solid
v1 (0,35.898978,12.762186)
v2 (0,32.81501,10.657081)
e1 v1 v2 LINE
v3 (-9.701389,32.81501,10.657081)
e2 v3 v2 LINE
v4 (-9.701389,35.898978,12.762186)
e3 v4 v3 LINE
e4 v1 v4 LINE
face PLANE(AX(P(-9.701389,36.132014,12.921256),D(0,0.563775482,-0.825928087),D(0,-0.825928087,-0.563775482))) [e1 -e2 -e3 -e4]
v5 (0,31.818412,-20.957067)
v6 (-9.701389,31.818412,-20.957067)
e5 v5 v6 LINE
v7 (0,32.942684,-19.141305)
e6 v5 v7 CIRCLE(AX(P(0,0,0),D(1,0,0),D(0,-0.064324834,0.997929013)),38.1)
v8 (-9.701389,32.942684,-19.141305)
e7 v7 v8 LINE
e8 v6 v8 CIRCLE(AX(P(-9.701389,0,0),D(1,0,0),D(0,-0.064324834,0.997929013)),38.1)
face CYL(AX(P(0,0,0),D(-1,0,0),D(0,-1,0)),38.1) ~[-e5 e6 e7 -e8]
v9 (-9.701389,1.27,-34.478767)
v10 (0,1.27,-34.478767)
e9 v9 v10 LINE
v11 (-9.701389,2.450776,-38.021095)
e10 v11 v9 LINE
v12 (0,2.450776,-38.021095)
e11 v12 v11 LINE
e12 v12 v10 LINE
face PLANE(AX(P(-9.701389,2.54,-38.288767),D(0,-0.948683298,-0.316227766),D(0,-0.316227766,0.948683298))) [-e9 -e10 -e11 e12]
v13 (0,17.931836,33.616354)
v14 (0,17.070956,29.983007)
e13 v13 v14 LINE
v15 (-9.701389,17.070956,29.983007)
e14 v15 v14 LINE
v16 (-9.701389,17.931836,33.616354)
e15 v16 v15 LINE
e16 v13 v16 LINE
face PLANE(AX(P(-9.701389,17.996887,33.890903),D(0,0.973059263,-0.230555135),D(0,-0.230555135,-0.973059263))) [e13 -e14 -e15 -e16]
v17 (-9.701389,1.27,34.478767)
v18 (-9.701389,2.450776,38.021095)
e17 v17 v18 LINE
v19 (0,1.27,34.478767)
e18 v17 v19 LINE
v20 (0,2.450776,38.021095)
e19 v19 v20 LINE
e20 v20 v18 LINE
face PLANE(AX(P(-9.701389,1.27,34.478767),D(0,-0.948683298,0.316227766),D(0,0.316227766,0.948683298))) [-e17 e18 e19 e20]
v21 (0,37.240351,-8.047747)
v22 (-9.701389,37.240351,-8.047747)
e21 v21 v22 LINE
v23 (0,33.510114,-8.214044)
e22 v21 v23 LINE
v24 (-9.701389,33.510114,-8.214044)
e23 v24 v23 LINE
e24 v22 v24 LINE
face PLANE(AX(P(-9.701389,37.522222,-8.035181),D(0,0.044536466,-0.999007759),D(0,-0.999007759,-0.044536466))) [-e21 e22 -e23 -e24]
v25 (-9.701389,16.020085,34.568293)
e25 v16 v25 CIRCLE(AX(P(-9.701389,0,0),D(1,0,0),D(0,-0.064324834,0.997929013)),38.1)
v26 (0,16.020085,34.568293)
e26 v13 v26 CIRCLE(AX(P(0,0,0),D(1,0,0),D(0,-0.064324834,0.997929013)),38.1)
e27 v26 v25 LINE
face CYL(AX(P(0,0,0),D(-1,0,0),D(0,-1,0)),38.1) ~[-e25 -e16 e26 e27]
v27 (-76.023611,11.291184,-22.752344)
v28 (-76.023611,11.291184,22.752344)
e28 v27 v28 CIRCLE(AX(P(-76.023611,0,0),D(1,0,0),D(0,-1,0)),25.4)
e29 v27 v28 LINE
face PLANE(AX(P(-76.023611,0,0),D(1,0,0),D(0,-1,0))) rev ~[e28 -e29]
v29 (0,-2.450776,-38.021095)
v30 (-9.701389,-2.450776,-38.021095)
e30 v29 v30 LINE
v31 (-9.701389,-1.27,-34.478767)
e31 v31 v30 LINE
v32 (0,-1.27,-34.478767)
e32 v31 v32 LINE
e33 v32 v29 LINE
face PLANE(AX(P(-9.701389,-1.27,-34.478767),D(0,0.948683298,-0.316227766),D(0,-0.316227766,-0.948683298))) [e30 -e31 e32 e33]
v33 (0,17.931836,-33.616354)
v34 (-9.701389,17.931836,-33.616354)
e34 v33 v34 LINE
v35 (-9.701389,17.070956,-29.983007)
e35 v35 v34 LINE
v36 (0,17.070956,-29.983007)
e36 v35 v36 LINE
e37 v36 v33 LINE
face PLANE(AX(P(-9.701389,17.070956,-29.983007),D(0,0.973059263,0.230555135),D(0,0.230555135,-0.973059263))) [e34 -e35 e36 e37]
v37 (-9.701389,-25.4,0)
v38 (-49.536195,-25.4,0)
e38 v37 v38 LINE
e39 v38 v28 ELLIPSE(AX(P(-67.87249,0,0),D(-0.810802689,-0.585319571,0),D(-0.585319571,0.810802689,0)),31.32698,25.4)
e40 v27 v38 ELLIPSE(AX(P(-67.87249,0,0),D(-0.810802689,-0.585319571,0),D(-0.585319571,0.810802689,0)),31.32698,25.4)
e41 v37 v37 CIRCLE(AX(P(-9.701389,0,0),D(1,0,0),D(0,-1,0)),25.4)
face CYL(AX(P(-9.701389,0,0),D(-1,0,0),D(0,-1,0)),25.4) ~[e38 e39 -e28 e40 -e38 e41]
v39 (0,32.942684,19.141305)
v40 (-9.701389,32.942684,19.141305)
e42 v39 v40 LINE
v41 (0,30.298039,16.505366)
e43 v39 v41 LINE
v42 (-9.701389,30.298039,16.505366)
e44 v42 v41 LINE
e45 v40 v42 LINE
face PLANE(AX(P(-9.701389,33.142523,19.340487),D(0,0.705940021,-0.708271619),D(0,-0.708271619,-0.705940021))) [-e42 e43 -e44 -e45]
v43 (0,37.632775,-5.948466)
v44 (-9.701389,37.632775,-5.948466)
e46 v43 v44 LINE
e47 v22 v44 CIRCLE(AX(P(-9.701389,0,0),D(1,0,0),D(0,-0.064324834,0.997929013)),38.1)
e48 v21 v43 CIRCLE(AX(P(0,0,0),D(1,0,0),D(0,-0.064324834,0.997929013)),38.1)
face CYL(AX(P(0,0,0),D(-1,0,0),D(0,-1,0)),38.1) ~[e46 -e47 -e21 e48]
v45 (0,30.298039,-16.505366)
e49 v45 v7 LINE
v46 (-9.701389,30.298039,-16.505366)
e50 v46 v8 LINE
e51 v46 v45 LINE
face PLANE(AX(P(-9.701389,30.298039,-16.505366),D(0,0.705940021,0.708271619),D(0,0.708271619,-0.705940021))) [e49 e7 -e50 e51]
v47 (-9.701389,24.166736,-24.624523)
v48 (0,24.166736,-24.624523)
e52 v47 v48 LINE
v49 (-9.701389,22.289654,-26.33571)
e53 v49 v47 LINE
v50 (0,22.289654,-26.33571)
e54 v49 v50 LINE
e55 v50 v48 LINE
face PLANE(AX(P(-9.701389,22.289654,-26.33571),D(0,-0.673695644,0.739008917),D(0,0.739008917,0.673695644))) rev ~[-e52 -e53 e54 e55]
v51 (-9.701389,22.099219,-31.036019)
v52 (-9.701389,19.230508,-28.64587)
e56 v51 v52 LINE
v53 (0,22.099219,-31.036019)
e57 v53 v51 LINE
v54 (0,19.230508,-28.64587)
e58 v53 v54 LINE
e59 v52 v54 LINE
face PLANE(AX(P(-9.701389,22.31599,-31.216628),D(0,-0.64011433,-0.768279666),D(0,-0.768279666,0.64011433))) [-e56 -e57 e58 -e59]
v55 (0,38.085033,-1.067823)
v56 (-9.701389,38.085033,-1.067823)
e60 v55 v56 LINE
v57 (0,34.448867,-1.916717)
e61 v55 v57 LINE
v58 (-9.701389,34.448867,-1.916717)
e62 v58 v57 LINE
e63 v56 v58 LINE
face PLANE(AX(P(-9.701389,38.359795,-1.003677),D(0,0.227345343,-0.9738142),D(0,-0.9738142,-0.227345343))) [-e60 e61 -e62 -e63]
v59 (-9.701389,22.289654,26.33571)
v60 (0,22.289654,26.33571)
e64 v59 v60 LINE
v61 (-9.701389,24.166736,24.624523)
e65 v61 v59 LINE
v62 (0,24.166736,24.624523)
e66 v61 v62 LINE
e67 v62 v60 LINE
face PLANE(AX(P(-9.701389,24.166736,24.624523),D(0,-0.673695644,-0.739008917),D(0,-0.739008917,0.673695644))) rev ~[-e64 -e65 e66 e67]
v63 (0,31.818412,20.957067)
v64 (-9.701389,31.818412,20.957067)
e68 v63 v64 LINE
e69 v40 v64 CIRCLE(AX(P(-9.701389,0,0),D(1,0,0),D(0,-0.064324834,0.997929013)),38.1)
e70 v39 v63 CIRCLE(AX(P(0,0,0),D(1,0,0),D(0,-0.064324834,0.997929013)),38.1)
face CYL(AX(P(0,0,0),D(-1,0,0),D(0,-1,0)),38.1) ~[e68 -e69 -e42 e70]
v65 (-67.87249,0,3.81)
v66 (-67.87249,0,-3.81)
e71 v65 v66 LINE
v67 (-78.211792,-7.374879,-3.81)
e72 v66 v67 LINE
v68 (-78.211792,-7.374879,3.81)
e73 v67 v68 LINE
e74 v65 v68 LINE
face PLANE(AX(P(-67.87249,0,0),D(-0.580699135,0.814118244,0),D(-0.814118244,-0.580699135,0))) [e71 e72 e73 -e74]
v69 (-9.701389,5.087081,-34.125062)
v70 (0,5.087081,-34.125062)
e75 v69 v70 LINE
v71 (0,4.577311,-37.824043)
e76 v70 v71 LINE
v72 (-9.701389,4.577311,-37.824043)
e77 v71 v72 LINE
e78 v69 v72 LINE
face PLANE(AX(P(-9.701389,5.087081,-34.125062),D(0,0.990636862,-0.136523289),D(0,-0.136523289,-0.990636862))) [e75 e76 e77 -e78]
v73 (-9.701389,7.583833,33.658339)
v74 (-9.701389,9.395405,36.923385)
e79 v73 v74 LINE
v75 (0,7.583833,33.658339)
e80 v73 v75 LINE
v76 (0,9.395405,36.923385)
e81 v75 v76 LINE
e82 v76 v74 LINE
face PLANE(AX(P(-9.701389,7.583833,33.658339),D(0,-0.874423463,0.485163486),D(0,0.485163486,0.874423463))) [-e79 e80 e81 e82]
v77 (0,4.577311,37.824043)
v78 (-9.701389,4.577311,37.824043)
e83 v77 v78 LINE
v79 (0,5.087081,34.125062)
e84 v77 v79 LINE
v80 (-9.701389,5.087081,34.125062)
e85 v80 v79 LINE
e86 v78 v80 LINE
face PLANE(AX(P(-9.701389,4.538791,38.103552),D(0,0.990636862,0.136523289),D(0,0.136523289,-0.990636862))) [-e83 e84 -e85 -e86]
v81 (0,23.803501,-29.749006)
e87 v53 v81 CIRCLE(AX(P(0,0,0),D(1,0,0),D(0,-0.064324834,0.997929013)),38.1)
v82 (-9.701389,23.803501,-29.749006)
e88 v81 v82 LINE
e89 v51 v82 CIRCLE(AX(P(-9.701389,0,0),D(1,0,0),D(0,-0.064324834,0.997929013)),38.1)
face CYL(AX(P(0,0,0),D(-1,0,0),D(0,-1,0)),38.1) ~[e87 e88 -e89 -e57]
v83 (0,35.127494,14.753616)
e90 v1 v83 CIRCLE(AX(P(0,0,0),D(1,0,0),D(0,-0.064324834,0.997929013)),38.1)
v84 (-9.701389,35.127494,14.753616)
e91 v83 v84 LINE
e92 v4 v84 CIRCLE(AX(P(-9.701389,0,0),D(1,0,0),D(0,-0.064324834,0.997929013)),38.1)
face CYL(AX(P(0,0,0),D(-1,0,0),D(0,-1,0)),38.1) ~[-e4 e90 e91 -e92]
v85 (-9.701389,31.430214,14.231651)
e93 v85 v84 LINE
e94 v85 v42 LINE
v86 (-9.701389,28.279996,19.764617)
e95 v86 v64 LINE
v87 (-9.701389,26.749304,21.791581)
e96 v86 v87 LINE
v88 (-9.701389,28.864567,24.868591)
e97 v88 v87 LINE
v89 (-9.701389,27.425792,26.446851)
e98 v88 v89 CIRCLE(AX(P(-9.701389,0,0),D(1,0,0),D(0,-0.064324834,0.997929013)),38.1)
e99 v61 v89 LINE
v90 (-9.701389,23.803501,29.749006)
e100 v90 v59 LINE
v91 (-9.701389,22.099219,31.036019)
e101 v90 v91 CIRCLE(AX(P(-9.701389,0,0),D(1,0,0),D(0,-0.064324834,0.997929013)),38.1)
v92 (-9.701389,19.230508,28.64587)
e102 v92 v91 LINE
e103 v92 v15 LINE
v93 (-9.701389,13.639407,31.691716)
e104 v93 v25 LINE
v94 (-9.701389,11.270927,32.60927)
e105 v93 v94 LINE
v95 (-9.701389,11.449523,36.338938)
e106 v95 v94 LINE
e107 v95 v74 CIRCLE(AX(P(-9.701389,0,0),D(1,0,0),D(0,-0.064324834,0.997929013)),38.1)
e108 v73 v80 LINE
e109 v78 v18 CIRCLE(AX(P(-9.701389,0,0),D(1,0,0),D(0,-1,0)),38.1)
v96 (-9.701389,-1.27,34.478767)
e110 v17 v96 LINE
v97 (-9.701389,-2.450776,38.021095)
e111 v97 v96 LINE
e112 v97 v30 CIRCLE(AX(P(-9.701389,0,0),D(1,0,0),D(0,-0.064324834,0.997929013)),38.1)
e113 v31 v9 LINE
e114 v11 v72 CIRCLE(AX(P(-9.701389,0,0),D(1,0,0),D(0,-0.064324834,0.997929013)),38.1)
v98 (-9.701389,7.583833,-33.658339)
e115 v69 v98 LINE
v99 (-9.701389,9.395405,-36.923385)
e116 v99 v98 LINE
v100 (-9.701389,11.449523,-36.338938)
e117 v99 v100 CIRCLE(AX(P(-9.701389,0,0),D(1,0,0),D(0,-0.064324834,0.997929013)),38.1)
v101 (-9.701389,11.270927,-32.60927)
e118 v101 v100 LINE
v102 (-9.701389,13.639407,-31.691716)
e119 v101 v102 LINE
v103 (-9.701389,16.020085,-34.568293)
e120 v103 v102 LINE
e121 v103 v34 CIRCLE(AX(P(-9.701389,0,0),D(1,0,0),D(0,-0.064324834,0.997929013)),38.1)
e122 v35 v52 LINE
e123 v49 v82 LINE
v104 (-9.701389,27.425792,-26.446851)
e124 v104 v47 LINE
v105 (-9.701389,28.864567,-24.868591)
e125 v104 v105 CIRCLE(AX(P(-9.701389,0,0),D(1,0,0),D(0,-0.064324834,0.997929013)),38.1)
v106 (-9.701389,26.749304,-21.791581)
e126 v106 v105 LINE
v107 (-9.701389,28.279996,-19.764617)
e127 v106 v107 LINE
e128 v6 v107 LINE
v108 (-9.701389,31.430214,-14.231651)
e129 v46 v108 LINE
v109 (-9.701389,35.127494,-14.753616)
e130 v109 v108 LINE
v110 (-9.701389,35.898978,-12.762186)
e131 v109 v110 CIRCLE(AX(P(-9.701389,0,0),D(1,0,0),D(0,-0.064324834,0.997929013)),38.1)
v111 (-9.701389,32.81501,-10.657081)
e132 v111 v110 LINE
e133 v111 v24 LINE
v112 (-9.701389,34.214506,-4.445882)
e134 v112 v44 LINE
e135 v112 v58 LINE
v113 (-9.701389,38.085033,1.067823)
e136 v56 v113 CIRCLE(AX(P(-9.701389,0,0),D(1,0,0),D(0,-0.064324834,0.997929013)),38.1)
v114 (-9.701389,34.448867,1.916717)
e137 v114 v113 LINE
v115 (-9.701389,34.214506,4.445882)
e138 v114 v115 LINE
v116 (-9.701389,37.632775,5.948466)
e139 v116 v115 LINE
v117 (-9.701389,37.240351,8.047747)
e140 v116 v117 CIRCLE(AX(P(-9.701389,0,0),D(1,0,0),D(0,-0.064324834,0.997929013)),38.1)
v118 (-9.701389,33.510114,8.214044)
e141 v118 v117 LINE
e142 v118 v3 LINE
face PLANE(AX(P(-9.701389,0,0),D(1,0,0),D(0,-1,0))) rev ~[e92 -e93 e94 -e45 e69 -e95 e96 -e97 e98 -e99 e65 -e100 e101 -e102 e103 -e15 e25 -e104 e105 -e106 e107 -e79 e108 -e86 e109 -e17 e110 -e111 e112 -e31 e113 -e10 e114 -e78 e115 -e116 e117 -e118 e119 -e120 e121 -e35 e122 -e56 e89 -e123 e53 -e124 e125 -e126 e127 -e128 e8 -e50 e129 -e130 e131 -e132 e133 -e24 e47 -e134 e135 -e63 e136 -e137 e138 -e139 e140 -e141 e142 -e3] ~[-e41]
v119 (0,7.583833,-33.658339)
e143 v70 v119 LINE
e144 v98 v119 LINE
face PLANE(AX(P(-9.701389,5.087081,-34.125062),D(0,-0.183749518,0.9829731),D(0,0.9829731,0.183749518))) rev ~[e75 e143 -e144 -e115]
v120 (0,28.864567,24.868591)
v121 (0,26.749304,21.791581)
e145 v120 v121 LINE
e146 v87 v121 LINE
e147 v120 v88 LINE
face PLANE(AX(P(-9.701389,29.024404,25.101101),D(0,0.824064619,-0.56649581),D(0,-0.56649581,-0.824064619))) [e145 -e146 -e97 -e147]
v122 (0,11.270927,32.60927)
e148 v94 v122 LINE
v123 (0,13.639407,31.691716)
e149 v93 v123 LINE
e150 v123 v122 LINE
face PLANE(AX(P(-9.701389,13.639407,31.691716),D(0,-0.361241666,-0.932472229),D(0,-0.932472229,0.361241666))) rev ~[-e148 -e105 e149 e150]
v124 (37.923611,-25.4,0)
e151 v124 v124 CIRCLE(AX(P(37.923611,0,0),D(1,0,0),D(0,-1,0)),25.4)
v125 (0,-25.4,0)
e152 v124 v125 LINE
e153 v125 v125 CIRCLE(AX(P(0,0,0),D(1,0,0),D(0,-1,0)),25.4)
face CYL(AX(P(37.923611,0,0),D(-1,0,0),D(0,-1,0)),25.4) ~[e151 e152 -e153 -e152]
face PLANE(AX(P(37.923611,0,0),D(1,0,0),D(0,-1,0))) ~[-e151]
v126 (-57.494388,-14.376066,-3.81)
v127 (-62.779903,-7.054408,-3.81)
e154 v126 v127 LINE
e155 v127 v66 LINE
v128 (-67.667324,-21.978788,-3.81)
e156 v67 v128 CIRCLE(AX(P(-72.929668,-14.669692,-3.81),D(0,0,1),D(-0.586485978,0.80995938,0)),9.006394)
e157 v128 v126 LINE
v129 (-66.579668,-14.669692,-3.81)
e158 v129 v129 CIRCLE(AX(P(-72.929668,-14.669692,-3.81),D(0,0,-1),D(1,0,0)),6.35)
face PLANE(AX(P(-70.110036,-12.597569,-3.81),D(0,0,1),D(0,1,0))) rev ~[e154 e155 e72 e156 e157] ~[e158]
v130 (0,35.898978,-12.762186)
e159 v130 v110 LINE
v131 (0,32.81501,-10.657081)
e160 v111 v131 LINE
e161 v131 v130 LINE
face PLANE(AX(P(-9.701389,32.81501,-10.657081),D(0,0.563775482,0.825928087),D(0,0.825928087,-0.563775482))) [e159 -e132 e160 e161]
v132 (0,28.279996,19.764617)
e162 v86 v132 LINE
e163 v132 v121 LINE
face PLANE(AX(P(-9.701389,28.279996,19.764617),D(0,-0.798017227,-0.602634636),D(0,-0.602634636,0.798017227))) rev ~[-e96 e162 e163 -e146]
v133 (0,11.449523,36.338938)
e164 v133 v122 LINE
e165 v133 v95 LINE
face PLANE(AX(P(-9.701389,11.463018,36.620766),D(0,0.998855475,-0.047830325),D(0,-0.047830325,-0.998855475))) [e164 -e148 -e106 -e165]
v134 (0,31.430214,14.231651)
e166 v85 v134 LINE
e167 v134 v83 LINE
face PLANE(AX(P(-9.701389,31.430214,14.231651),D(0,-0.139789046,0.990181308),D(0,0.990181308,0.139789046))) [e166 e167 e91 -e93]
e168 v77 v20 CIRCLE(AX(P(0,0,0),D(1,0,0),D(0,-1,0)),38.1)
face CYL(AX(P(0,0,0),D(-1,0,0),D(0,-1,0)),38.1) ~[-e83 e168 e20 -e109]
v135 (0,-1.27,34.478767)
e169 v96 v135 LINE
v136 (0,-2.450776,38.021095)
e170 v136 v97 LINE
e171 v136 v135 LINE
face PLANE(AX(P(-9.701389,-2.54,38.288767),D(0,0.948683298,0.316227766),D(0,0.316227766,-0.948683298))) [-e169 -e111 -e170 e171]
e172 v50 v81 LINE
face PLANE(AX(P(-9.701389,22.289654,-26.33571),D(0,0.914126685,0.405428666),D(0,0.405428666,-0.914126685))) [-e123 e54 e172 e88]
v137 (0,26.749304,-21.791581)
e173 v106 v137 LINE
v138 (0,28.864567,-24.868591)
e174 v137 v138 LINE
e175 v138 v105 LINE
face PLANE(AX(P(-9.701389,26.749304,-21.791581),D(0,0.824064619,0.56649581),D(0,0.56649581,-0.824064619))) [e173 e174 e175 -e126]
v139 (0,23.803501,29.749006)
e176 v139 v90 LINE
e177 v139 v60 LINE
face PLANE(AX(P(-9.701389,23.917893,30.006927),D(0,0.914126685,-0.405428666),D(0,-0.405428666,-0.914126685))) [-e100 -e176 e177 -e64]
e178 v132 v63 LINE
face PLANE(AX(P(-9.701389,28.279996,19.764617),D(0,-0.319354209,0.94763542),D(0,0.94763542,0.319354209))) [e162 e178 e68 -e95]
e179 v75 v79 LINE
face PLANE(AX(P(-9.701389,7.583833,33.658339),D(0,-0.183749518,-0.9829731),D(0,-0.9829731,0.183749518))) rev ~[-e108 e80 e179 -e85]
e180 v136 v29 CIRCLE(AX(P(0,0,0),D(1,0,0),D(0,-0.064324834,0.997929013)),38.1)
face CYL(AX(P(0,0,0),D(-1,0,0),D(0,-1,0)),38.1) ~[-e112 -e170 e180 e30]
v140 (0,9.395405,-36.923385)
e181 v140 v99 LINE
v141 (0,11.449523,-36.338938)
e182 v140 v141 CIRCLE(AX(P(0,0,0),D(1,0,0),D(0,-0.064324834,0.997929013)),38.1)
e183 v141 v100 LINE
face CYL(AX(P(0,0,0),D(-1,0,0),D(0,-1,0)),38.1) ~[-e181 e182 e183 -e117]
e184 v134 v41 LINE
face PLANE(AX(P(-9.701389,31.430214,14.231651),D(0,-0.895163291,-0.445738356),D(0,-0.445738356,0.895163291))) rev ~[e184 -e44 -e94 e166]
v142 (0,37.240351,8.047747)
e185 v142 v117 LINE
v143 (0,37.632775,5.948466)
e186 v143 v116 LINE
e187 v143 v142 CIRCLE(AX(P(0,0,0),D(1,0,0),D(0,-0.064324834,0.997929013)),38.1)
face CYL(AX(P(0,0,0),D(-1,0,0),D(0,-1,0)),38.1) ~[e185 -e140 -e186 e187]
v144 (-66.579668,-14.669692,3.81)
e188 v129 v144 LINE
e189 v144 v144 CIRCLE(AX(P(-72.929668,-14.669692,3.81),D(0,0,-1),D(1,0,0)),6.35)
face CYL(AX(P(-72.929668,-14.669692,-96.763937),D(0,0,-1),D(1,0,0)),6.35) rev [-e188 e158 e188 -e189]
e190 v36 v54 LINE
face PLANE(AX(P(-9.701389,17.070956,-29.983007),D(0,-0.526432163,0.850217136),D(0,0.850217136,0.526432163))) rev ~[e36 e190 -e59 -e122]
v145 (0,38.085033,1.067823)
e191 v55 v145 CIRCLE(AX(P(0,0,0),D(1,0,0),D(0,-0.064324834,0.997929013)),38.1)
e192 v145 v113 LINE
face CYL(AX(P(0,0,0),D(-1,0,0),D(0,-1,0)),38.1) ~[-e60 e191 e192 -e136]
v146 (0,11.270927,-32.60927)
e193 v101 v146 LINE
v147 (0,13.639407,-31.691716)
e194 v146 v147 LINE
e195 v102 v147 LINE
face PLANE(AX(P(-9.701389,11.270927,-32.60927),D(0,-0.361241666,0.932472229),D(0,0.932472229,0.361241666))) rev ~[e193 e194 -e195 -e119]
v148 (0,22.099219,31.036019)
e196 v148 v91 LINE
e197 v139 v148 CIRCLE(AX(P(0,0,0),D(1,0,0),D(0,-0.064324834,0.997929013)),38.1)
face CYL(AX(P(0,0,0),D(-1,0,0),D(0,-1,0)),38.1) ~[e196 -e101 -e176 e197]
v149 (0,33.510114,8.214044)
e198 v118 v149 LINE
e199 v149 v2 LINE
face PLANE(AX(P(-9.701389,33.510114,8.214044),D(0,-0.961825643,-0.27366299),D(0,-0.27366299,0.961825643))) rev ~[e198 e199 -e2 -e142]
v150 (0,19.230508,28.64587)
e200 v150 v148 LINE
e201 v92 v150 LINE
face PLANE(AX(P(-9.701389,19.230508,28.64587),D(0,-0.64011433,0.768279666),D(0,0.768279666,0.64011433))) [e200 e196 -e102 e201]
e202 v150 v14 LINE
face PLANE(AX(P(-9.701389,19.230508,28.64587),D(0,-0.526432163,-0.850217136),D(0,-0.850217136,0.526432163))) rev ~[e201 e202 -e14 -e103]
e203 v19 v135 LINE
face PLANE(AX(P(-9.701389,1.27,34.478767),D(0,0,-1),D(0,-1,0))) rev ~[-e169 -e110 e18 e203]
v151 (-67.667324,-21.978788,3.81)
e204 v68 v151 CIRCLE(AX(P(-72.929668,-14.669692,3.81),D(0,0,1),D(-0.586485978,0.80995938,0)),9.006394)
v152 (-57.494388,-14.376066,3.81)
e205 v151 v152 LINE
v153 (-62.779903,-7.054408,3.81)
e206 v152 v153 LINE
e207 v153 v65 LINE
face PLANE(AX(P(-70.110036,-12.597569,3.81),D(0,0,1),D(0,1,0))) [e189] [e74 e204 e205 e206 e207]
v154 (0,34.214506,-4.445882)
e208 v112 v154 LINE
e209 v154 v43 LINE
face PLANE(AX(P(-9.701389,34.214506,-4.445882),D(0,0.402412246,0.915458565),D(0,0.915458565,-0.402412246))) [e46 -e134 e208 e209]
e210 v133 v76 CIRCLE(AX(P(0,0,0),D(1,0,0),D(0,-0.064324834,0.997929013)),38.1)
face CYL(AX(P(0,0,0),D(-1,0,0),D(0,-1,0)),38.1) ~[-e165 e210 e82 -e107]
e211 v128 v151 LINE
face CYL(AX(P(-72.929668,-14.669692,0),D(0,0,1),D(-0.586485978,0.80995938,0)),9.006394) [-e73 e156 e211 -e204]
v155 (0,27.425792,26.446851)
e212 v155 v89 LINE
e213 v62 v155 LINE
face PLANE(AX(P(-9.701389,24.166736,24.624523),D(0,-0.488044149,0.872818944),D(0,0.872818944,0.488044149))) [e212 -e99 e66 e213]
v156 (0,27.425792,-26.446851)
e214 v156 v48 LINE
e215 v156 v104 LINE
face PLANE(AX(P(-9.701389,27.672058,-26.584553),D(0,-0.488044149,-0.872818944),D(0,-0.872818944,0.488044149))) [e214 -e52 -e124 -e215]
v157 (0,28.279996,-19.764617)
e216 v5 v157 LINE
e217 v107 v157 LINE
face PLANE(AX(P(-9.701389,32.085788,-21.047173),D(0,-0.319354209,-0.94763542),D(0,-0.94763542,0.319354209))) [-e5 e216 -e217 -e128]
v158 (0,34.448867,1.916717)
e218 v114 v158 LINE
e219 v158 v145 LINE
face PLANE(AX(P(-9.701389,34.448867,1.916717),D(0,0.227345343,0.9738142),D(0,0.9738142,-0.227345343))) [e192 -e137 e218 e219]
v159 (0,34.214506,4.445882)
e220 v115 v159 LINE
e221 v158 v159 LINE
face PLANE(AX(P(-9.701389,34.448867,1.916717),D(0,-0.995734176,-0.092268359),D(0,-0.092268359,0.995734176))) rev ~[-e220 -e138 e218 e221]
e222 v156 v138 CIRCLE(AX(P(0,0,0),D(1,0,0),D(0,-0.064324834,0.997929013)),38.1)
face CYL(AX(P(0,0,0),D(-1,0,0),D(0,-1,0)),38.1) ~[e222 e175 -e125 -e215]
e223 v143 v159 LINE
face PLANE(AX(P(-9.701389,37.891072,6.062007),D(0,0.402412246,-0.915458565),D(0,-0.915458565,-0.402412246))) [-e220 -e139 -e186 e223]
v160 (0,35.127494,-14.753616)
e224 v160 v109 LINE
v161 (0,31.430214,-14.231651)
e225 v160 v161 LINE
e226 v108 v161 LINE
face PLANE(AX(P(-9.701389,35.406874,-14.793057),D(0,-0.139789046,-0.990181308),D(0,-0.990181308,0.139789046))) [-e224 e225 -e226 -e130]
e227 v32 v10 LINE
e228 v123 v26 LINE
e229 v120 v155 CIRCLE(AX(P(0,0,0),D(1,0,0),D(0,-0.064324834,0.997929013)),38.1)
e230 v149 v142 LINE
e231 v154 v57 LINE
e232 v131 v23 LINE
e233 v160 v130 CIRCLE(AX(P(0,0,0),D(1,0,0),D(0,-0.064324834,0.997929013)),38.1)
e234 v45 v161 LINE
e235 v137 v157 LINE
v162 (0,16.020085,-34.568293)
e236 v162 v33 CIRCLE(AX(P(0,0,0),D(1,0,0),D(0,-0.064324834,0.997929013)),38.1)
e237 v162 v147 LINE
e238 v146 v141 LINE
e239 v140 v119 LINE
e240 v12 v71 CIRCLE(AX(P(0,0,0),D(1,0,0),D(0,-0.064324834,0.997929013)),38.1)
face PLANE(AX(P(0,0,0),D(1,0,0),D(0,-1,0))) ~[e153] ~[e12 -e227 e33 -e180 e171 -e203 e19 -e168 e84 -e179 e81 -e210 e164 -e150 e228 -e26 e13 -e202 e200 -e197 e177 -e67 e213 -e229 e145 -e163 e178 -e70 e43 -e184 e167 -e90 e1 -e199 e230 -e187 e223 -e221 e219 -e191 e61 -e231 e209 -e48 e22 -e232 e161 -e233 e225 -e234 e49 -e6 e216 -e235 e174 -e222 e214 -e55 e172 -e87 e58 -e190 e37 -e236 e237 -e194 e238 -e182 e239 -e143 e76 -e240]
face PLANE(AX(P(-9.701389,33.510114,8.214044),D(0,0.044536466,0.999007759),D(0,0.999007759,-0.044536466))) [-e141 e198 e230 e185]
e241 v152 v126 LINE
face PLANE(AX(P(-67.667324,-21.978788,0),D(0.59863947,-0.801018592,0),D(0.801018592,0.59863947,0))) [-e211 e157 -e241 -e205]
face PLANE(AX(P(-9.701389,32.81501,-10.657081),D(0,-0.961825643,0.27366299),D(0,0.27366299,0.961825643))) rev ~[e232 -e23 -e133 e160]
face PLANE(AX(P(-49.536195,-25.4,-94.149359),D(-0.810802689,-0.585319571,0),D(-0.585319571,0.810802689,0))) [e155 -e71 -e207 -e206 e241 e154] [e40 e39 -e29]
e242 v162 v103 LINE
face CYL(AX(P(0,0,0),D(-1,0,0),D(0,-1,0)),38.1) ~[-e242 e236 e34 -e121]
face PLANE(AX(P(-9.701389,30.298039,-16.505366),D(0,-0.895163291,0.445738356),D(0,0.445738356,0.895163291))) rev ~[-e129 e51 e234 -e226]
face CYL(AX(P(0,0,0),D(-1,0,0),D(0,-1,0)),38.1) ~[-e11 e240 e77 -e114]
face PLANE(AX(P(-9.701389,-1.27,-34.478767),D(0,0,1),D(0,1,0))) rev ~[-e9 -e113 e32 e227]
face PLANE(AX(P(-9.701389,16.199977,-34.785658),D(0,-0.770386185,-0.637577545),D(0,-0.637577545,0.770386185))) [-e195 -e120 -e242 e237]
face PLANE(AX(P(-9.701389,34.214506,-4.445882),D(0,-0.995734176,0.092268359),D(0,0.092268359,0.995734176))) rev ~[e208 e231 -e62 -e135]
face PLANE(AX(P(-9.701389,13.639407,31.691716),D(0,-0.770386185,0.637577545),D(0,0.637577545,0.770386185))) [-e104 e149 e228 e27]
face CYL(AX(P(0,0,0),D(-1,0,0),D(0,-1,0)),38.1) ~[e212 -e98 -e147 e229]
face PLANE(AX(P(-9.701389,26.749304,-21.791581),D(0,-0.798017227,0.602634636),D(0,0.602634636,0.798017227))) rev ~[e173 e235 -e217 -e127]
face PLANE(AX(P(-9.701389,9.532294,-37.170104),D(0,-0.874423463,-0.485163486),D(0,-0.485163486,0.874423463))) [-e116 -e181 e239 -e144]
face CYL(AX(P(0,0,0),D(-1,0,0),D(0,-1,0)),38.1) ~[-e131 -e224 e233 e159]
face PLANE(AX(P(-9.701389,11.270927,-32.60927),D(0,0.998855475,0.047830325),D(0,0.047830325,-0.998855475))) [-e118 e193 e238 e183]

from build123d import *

# Parameters (mm, degrees)
CUT_EXTRUDE1_DEPTH      = 86.450904972
CIRPATTERN1_COUNT       = 18
CIRPATTERN1_ANGLE       = 180
CUT_EXTRUDE2_DEPTH      = 94.149359325
CUT_EXTRUDE2_DEPTH_BACK = 94.149359325
BOSS_EXTRUDE1_DEPTH     = 3.81
CUT_EXTRUDE4_DEPTH      = 100.573936521
CUT_EXTRUDE4_DEPTH_BACK = 100.573936521
SKETCH9_R               = 6.35


with BuildPart() as part:
    # Sketch2 → Revolve1 (revolve)
    with BuildSketch(Plane(origin=(0, 0, 0), x_dir=(0, 1, 0), z_dir=(0, 0, 1))):
        Polygon((0, -37.923611111), (-25.4, -37.923611111), (-25.4, 0), (-38.1, 0), (-38.1, 9.701388889), (-25.4, 9.701388889), (-25.4, 76.023611111), (0, 76.023611111), align=None)
    revolve(axis=Axis((-76.023611111, 0, 0), (1, 0, 0)))

    # Sketch3 → Cut-Extrude1 (cut, through all)
    with BuildSketch(Plane(origin=(-9.701388889, 0, 0), x_dir=(0, -1, 0), z_dir=(-1, 0, 0))):
        Polygon((0, 38.288766927), (2.54, 38.288766927), (1.27, 34.478766927), (0, 34.478766927), (-1.27, 34.478766927), (-2.54, 38.288766927), align=None)
    cut_extrude1 = extrude(amount=-CUT_EXTRUDE1_DEPTH, mode=Mode.SUBTRACT)

    # CirPattern1: Cut-Extrude1 ×18 about axis
    cirpattern1_axis = Axis((0, 0, 0), (-1, 0, 0))
    for i in range(1, CIRPATTERN1_COUNT):
        add(cut_extrude1.rotate(cirpattern1_axis, i * CIRPATTERN1_ANGLE / (CIRPATTERN1_COUNT - 1)), mode=Mode.SUBTRACT)

    # Sketch5 → Cut-Extrude2 (cut, two sides: drawn at the far end of the back side and taken through both)
    with BuildSketch(Plane(origin=(0, 0, 0), x_dir=(0, 1, 0), z_dir=(0, 0, 1)).offset(-CUT_EXTRUDE2_DEPTH_BACK)):
        Polygon((11.291183517, 76.023611111), (-25.4, 76.023611111), (-25.4, 49.536195496), align=None)
    extrude(amount=CUT_EXTRUDE2_DEPTH + CUT_EXTRUDE2_DEPTH_BACK, mode=Mode.SUBTRACT)

    # Sketch7 → Boss-Extrude1 (add, symmetric)
    with BuildSketch(Plane(origin=(0, 0, 0), x_dir=(0, 1, 0), z_dir=(0, 0, 1))):
        with BuildLine():
            Line((0, 67.872490271), (-7.374879009, 78.211791969))
            ThreePointArc((-7.374879009, 78.211791969), (-19.941931013, 80.231629124), (-21.978787639, 67.667324397))
            Line((-21.978787639, 67.667324397), (-14.376066372, 57.494388275))
            Line((-14.376066372, 57.494388275), (-7.054408242, 62.779903303))
            Line((-7.054408242, 62.779903303), (0, 67.872490271))
        make_face()
    extrude(amount=BOSS_EXTRUDE1_DEPTH, both=True)

    # Sketch9 → Cut-Extrude4 (cut, two sides: drawn at the far end of the back side and taken through both)
    with BuildSketch(Plane.XY.offset(3.81).offset(-CUT_EXTRUDE4_DEPTH_BACK)):
        with Locations((-72.929668111, -14.66969239)):
            Circle(SKETCH9_R)
    extrude(amount=CUT_EXTRUDE4_DEPTH + CUT_EXTRUDE4_DEPTH_BACK, mode=Mode.SUBTRACT)


solid = part.part
